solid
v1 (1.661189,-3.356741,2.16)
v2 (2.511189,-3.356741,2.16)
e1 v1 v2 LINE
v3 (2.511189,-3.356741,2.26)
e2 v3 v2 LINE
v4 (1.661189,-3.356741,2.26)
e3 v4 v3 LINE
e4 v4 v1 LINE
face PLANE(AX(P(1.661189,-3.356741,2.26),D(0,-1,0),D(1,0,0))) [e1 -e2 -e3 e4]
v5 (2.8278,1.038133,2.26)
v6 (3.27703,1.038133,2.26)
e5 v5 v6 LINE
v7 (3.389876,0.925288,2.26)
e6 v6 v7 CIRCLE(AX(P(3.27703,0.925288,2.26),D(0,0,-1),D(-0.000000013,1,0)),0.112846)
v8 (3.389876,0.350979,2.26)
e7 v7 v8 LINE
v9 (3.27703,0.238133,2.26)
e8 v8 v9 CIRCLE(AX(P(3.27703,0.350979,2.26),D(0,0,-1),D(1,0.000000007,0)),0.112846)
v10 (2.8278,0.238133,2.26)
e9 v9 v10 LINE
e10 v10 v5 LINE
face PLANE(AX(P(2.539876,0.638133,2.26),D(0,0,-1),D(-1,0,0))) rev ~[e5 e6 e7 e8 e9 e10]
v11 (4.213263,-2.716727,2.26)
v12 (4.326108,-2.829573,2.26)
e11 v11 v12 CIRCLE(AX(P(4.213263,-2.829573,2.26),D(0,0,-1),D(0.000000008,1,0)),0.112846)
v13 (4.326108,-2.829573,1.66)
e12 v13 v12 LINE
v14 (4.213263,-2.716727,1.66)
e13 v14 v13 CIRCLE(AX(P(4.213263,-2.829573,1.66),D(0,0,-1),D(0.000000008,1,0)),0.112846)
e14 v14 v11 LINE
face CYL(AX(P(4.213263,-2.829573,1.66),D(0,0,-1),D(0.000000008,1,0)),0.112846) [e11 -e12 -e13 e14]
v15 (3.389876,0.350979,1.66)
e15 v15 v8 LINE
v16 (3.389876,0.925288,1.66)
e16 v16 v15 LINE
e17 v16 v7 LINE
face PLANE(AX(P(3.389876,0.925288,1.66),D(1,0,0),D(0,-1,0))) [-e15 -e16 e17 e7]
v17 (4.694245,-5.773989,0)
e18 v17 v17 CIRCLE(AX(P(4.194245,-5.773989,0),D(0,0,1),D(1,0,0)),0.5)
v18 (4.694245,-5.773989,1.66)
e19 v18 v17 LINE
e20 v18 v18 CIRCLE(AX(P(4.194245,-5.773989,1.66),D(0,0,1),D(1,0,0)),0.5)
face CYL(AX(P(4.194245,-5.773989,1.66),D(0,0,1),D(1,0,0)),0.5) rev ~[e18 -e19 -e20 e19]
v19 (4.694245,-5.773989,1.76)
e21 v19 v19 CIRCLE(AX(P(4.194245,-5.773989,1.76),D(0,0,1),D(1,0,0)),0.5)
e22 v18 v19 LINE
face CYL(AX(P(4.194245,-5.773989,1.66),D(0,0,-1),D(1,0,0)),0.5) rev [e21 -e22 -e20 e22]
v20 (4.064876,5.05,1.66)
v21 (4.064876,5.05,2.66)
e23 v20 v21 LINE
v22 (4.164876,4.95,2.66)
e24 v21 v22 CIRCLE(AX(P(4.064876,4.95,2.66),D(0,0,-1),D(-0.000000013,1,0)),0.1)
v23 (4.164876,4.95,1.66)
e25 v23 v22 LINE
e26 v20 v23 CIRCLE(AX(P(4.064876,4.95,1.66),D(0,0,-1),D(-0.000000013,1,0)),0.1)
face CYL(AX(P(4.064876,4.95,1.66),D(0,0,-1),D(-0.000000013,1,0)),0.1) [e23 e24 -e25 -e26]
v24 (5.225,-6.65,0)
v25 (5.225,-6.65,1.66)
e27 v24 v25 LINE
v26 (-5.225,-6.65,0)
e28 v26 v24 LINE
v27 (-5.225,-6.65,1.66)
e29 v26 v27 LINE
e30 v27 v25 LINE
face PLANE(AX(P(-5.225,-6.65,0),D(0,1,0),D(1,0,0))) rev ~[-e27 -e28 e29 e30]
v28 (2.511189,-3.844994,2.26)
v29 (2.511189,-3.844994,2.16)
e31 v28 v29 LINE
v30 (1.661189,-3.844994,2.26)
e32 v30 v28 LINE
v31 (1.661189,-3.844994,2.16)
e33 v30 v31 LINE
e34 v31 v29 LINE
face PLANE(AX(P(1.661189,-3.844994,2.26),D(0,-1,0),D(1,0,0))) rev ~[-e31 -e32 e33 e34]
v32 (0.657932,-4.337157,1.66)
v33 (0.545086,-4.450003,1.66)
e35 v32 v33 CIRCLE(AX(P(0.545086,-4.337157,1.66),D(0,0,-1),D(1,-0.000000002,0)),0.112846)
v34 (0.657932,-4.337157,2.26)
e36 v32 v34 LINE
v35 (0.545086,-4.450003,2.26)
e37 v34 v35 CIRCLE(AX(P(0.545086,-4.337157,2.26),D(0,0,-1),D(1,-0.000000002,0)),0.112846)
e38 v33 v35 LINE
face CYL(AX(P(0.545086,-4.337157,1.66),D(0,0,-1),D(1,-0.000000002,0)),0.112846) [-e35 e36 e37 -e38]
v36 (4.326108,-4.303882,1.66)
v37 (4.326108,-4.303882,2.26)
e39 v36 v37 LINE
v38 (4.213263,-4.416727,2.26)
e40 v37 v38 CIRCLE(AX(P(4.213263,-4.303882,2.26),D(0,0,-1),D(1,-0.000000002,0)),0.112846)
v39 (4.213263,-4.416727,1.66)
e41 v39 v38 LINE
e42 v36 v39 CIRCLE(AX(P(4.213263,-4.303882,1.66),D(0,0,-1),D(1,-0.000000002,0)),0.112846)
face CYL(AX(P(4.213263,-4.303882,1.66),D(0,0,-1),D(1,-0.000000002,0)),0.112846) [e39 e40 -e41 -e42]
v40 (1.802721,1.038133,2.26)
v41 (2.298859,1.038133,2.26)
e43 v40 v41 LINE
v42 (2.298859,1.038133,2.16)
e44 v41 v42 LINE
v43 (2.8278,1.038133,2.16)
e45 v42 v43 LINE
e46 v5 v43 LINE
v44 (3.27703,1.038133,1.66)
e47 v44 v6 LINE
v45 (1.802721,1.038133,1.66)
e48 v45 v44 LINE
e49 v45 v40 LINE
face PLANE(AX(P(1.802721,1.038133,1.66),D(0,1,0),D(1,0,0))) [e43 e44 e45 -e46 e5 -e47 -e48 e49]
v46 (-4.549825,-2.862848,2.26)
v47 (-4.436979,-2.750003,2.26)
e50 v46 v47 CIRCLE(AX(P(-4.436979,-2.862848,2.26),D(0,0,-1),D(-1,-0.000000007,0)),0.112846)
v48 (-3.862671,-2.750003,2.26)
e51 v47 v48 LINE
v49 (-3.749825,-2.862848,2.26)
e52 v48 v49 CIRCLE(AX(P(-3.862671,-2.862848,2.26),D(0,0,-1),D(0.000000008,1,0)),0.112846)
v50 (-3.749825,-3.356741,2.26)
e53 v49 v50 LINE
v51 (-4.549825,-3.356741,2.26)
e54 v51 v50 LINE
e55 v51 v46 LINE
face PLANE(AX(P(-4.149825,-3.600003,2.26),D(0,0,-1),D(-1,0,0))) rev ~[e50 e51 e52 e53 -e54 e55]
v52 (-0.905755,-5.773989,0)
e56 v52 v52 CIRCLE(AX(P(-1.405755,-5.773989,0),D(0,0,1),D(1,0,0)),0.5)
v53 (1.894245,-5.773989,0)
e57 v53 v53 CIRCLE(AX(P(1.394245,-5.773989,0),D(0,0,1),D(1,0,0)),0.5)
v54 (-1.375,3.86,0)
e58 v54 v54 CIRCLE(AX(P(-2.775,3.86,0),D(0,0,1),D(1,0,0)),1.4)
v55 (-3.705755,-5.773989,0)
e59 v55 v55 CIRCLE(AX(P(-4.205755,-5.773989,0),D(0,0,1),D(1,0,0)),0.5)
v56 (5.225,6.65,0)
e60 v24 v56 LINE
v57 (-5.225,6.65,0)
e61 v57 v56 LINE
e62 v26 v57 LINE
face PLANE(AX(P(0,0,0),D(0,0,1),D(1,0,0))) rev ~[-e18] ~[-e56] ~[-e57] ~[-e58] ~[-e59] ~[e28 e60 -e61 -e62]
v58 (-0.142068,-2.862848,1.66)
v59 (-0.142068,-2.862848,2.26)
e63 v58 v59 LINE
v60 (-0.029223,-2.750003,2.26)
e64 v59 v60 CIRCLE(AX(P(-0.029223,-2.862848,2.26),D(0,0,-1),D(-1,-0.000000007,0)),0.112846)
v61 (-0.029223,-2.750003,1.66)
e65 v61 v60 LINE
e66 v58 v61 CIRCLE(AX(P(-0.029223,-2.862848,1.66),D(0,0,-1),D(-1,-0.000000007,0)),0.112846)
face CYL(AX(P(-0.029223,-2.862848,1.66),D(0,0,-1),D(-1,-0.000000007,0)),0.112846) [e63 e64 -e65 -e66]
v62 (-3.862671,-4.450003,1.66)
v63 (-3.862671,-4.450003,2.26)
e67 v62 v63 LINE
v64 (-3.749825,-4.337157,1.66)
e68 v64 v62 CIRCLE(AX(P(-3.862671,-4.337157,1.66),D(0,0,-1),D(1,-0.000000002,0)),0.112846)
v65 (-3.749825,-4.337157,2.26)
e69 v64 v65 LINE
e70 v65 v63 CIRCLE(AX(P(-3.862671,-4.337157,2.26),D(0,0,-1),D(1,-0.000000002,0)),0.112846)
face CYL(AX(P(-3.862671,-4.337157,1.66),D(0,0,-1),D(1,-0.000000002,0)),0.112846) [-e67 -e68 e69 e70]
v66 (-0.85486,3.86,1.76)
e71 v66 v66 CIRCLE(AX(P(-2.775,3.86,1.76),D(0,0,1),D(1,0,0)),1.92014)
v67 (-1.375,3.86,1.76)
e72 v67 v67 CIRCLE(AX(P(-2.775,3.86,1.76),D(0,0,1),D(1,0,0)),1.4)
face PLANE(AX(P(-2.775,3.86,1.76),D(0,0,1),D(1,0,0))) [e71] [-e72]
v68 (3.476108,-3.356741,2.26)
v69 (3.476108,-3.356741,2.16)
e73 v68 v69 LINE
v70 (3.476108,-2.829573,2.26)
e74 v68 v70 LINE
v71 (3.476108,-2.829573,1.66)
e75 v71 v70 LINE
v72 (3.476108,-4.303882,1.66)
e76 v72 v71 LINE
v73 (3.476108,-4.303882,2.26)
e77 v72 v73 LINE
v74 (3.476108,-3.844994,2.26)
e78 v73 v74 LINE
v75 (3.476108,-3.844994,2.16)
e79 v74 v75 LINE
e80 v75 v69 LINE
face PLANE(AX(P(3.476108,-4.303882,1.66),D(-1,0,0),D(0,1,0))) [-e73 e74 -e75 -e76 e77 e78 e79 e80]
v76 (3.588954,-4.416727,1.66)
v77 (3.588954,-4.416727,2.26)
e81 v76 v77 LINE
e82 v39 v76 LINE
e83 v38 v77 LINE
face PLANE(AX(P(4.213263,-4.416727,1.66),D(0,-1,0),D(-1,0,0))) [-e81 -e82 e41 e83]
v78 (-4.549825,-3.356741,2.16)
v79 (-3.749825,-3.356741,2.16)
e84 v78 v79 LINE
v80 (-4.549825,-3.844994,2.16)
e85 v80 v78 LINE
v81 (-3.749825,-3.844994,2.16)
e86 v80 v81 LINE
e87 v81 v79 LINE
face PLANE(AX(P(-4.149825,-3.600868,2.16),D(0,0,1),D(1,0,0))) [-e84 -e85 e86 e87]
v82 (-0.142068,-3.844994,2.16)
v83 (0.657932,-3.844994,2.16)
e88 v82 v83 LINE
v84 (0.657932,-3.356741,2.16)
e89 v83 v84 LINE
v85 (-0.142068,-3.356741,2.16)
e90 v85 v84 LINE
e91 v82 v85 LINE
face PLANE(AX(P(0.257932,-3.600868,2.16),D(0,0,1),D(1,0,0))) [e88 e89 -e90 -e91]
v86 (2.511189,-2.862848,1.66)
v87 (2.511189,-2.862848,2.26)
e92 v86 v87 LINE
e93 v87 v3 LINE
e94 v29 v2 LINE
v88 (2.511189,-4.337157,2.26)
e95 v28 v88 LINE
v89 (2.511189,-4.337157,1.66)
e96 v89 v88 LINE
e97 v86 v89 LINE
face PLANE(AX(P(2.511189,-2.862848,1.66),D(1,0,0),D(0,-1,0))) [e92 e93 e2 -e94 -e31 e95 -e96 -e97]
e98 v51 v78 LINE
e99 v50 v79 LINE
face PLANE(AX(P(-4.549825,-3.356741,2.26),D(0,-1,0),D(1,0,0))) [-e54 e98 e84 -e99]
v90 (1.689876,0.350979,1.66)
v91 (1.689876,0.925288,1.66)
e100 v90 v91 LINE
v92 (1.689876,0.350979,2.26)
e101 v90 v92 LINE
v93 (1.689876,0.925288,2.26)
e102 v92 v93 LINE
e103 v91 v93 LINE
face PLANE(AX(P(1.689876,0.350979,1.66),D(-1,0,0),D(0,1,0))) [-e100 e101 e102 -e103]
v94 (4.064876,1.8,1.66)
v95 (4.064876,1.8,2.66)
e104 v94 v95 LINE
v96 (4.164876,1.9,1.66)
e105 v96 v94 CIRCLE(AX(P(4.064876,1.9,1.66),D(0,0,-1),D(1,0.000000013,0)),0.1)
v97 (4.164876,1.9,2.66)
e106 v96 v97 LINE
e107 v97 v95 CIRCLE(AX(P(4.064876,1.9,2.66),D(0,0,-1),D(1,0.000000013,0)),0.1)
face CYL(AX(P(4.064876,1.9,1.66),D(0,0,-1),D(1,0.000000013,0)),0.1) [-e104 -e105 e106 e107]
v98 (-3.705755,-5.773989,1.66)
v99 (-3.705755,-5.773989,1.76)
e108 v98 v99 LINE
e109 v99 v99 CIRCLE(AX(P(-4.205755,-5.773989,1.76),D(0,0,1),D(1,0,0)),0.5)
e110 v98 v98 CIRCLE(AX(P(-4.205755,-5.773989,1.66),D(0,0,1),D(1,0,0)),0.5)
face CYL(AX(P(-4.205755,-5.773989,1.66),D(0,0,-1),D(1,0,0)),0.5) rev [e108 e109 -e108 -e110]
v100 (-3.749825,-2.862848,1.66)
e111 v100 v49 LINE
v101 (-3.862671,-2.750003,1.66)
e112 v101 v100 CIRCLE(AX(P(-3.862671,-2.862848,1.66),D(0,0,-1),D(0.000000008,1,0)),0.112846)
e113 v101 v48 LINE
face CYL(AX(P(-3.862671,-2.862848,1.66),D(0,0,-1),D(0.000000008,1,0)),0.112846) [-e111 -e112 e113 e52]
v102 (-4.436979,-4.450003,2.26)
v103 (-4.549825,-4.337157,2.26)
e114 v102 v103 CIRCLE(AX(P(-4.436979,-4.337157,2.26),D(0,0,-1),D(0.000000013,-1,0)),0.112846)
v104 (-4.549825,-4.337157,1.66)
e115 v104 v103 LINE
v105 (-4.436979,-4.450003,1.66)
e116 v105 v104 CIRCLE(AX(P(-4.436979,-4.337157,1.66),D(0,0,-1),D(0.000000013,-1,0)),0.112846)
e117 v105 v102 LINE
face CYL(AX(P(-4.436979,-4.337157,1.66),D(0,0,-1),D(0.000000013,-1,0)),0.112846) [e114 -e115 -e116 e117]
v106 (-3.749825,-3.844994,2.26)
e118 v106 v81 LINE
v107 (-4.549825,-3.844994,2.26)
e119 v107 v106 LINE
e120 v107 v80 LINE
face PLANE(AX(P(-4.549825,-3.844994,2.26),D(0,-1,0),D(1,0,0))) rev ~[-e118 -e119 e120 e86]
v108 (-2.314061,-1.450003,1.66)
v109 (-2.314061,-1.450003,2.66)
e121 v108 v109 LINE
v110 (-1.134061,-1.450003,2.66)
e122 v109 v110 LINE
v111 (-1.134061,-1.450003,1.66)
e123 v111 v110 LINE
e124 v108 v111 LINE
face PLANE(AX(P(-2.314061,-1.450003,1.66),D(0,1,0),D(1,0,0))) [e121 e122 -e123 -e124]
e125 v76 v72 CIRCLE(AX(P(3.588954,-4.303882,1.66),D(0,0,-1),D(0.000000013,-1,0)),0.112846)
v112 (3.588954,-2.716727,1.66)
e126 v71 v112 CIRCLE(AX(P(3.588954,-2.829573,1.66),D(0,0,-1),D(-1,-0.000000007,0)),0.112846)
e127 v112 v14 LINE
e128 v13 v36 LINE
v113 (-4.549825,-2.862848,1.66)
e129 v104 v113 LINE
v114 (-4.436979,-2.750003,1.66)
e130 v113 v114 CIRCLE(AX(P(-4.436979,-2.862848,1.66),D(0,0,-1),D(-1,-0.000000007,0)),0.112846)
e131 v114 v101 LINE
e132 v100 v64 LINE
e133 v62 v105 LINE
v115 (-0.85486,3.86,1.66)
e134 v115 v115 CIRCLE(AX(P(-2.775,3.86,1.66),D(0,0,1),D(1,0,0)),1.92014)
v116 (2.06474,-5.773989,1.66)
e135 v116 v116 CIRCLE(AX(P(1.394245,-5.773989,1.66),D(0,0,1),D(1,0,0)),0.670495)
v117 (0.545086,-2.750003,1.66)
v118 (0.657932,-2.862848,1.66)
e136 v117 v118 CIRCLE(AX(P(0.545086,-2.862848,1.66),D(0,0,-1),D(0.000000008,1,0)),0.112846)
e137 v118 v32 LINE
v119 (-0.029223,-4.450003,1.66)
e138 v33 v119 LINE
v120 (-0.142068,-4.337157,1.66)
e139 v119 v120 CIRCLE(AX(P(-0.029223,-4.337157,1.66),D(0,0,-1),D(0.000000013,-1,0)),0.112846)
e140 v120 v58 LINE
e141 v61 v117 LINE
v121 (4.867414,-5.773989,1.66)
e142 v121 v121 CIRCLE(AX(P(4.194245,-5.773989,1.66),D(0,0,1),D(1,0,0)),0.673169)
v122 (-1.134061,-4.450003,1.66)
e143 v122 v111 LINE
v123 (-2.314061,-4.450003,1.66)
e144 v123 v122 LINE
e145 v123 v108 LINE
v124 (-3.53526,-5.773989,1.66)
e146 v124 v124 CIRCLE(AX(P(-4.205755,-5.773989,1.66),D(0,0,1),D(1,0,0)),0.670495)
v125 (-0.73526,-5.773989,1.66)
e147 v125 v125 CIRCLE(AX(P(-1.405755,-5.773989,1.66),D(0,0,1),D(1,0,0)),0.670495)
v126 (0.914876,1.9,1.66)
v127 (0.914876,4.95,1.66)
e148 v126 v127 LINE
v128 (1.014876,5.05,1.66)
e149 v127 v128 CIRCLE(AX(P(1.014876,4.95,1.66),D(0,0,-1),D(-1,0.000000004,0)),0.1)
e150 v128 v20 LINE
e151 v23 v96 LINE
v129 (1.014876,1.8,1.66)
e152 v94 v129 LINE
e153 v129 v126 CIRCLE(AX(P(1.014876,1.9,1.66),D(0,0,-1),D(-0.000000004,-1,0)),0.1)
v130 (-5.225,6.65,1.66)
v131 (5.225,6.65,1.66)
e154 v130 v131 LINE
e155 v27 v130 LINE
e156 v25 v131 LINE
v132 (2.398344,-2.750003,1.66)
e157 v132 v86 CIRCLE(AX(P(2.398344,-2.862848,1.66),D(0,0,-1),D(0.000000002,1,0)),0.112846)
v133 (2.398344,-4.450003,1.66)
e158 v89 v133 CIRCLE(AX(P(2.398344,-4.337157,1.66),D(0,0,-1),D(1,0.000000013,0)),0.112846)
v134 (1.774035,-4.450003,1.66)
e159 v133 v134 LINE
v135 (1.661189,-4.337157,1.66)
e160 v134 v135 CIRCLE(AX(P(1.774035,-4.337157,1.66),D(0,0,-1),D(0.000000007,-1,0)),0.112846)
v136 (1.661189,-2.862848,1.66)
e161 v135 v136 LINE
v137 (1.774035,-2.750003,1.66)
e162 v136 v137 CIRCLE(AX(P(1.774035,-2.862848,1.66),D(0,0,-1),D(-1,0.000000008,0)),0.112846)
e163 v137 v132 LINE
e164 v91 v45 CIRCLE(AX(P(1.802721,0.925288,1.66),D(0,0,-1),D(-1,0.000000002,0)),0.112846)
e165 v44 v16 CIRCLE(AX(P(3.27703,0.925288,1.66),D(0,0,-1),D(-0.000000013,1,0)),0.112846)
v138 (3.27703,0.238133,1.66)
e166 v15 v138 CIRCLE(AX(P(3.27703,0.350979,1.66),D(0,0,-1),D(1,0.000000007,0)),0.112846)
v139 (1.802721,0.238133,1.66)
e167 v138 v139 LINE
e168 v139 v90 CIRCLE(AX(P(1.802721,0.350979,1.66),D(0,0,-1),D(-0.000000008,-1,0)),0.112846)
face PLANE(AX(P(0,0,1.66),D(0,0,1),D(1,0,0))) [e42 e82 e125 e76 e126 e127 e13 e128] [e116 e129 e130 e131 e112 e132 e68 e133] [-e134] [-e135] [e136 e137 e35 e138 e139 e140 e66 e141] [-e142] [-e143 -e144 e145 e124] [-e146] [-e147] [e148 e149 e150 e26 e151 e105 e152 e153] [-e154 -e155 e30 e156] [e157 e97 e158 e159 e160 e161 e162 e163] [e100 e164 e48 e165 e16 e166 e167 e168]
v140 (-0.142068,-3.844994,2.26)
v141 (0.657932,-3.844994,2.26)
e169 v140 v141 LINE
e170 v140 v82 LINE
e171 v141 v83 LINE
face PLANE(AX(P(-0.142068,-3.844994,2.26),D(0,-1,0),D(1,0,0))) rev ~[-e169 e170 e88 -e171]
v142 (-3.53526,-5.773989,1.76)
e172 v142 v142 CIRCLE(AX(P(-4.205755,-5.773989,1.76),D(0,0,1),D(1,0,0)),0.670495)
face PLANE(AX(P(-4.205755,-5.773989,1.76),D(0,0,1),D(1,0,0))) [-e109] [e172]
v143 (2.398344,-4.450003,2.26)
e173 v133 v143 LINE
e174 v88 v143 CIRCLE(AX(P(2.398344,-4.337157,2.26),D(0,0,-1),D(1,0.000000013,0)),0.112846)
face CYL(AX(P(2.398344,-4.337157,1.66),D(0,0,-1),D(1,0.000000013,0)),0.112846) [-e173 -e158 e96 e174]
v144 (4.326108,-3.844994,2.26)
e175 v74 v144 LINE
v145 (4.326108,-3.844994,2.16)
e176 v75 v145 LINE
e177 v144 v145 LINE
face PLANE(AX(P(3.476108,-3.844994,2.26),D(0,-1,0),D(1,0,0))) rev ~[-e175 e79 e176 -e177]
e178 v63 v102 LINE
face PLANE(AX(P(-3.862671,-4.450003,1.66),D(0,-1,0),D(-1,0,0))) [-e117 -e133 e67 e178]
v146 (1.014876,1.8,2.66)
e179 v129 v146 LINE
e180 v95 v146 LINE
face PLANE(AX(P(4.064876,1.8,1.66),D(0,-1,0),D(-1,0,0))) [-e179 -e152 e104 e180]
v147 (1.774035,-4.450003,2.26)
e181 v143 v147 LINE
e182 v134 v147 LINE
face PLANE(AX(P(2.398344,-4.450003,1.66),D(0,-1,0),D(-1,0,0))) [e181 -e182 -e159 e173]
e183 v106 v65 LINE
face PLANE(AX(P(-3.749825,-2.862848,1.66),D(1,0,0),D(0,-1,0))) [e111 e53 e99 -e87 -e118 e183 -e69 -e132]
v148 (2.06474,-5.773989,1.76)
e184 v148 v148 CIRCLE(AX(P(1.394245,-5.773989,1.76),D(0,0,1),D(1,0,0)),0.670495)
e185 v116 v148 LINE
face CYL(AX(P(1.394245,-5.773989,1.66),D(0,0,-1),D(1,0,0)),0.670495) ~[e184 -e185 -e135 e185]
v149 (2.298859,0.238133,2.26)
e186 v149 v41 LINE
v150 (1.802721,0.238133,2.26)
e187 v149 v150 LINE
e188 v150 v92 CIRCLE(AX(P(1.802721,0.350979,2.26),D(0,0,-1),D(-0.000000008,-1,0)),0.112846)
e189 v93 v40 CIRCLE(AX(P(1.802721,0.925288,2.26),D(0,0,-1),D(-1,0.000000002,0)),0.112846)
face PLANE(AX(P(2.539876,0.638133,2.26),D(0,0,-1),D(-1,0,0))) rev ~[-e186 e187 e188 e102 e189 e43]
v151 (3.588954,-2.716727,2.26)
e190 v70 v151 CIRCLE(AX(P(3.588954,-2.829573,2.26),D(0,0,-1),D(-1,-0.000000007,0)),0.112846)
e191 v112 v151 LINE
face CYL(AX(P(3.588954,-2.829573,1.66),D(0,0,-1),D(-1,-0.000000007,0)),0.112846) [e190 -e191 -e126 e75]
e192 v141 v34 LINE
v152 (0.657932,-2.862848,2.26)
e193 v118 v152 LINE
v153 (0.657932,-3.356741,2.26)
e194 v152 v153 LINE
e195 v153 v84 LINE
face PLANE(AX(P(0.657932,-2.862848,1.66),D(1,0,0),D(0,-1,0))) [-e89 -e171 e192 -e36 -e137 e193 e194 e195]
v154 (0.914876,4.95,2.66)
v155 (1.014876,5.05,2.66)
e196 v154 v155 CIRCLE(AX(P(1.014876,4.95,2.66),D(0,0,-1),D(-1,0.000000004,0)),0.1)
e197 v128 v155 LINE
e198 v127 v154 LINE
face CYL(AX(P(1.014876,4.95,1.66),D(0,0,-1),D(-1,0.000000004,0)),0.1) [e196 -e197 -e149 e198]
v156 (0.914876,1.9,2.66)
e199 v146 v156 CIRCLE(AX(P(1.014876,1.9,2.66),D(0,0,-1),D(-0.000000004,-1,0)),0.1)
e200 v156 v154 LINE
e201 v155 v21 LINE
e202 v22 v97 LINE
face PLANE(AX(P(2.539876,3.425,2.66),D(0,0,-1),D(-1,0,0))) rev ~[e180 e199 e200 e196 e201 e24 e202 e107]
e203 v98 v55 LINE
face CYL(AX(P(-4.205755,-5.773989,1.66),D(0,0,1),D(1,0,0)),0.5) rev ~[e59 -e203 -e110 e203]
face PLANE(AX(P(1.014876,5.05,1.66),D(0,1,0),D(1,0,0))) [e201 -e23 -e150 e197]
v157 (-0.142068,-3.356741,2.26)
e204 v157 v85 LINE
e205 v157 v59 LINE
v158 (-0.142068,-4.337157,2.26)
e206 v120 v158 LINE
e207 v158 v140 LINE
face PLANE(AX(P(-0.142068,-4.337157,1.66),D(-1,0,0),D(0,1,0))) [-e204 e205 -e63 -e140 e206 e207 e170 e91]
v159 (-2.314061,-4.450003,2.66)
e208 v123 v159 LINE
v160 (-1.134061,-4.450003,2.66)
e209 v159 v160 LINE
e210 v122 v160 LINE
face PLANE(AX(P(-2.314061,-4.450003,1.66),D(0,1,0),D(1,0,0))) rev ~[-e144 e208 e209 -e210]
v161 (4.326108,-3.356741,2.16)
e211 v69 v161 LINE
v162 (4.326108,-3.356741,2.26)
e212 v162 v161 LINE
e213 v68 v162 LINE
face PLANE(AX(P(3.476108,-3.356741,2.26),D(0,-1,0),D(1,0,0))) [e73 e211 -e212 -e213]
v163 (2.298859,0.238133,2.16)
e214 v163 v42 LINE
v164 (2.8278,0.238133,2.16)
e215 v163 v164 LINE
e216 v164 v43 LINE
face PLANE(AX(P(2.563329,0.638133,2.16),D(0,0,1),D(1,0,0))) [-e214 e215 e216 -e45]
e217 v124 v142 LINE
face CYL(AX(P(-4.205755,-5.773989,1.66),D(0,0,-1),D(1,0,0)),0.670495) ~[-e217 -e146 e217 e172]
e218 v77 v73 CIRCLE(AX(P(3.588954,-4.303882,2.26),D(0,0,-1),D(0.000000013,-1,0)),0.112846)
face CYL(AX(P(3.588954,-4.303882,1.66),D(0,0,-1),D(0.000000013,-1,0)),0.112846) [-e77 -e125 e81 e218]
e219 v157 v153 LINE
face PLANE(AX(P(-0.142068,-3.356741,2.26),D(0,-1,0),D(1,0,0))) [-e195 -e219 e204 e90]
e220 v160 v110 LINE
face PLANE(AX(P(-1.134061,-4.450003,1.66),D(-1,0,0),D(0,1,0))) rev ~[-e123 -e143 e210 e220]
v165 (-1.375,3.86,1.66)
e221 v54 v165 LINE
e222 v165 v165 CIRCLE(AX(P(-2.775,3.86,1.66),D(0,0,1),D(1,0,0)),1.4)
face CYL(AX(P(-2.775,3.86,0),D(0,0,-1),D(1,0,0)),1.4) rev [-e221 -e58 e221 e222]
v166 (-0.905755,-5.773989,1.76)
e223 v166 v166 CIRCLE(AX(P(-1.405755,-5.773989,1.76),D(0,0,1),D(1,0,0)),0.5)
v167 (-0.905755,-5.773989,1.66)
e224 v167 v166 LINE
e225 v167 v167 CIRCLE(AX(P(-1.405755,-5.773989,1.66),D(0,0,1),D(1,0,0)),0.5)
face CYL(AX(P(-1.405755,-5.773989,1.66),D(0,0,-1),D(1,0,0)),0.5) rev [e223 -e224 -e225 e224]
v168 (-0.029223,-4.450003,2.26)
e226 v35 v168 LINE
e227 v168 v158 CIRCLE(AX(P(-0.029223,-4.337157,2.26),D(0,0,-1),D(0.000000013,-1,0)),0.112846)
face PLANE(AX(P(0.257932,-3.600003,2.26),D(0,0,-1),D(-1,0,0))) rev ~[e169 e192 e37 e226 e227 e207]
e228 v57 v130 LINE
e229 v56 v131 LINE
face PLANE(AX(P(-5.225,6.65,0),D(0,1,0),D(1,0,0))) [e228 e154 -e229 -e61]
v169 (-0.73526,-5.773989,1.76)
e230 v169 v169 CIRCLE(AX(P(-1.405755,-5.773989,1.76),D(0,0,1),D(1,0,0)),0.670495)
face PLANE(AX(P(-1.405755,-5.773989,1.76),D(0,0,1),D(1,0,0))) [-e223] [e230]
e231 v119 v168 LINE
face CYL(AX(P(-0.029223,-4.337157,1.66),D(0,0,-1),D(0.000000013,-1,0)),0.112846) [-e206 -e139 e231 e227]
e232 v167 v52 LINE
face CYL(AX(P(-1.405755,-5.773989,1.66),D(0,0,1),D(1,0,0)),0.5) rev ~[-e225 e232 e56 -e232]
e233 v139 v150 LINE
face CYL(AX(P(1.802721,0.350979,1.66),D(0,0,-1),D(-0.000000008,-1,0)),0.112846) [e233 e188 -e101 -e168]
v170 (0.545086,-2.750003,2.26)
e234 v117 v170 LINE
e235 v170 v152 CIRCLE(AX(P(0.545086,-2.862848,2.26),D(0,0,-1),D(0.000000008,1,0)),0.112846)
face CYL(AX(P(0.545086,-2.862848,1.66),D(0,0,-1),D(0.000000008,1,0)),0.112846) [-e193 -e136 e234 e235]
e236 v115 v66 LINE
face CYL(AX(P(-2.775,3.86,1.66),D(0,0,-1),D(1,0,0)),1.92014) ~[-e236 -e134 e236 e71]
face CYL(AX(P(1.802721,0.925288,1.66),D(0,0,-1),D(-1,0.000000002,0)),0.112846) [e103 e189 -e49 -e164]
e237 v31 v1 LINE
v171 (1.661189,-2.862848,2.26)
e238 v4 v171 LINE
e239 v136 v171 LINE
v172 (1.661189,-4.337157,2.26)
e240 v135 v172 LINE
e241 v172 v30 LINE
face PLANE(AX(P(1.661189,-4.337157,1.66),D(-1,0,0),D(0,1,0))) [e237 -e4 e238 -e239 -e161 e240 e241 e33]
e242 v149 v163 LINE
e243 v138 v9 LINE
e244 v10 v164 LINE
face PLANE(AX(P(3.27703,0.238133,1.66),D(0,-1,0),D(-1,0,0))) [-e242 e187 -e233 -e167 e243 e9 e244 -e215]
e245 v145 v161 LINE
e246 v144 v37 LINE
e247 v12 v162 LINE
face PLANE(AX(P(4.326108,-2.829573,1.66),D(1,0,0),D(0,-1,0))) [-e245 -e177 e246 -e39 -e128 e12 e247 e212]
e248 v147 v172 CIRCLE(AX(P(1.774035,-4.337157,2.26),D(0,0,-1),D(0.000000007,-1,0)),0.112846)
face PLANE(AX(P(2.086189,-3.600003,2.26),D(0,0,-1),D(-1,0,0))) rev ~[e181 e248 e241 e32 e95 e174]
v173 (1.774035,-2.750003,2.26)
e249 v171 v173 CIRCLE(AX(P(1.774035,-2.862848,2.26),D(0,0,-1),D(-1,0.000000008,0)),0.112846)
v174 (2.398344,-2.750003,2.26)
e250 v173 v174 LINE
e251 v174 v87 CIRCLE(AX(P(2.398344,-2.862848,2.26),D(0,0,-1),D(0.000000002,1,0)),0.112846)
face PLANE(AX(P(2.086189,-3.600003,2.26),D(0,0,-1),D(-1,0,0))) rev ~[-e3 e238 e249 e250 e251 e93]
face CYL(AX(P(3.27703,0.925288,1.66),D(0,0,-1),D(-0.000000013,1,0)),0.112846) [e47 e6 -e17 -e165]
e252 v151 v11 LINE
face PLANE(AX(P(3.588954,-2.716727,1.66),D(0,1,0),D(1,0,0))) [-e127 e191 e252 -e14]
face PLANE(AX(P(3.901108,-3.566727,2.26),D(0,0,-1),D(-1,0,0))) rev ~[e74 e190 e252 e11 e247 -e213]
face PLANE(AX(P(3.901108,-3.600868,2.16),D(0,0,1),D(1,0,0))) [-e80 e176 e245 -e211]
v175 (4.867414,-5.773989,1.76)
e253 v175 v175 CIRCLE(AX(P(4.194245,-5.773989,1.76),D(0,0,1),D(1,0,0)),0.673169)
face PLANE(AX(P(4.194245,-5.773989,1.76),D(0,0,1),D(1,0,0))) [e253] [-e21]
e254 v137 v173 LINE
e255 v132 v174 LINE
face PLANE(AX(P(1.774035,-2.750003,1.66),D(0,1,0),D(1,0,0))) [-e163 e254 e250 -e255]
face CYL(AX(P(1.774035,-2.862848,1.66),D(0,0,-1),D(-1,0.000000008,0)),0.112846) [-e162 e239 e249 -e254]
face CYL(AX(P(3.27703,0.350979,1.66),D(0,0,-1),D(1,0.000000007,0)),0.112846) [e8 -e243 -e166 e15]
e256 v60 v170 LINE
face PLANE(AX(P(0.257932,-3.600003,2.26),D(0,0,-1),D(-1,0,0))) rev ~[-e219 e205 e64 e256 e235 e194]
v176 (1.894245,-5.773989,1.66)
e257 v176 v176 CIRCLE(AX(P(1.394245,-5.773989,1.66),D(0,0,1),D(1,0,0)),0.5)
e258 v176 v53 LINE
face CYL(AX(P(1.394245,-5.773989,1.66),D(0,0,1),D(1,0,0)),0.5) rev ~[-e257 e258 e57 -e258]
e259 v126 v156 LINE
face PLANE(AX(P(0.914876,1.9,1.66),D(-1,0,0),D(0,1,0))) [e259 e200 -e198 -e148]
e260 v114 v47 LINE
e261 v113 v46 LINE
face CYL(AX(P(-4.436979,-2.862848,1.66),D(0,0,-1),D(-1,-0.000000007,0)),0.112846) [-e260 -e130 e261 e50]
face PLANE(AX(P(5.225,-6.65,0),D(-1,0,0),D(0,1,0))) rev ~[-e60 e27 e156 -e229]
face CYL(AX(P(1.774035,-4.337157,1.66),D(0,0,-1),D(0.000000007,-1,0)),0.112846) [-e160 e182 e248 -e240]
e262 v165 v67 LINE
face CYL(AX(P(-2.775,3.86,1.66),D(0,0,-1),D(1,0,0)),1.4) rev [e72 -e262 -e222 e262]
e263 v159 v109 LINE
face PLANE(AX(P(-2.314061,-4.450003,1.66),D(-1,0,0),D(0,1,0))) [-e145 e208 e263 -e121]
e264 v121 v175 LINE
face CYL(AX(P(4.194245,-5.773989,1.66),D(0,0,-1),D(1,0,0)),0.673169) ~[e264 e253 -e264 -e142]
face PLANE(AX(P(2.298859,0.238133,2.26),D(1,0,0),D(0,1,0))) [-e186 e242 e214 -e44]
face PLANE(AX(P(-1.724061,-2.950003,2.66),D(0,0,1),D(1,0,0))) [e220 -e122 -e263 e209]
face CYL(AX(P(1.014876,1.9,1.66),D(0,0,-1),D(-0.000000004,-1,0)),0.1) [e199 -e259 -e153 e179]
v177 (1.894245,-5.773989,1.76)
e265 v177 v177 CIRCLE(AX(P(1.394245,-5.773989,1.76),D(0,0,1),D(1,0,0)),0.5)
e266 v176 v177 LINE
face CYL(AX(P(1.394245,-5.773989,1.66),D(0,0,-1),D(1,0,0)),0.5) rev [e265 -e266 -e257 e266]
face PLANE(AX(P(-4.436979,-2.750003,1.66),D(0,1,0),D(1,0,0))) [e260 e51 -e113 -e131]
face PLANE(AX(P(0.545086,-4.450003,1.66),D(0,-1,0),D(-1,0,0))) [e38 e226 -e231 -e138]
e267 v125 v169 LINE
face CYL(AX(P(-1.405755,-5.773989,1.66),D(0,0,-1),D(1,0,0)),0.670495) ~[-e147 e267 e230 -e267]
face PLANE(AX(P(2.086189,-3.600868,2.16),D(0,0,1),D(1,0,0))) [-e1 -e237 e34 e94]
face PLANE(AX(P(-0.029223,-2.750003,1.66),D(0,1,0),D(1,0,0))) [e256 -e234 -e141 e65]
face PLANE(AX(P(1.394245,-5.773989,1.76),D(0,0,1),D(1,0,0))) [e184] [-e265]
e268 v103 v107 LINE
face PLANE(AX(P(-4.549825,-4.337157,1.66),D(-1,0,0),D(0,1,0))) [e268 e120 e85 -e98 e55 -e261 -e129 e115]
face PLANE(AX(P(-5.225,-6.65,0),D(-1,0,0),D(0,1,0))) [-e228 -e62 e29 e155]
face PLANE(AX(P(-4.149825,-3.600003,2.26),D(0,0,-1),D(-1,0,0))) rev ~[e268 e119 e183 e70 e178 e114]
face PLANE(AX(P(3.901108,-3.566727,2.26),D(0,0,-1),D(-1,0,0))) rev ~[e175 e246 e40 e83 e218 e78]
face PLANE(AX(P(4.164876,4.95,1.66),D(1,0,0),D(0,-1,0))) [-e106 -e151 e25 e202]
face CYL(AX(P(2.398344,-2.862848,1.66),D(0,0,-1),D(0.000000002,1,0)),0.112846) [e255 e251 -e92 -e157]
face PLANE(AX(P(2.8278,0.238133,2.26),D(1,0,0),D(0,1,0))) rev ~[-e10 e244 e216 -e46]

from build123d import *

# Parameters (mm, degrees)
CROQUIS1_W              = 10.45
CROQUIS1_H              = 13.3
CROQUIS1_R              = 1.4
SALIENTE_EXTRUIR1_DEPTH = 1.66
SALIENTE_EXTRUIR2_DEPTH = 1
SALIENTE_EXTRUIR3_DEPTH = 0.6
CROQUIS4_R              = 0.5
CORTAR_EXTRUIR1_DEPTH   = 2
CROQUIS5_W              = 1.18
CROQUIS5_H              = 3
SALIENTE_EXTRUIR4_DEPTH = 1
CROQUIS6_R              = 0.670494612
CROQUIS6_R_2            = 0.5
CROQUIS6_R_3            = 0.673168706
CROQUIS6_R_4            = 1.920139837
CROQUIS6_R_5            = 1.4
SALIENTE_EXTRUIR5_DEPTH = 0.1
CROQUIS7_W              = 0.8
CROQUIS7_H              = 0.488253232
CROQUIS7_W_2            = 0.85
CROQUIS7_W_3            = 0.528941002
CROQUIS7_H_2            = 0.8
CORTAR_EXTRUIR2_DEPTH   = 0.1


with BuildPart() as part:
    # Croquis1 → Saliente-Extruir1 (new body)
    with BuildSketch(Plane.XY):
        Rectangle(CROQUIS1_W, CROQUIS1_H)
        with Locations((-2.775, 3.86)):
            Circle(CROQUIS1_R, mode=Mode.SUBTRACT)
    extrude(amount=SALIENTE_EXTRUIR1_DEPTH)

    # Croquis2 → Saliente-Extruir2 (add)
    with BuildSketch(Plane.XY.offset(1.66)):
        with BuildLine():
            Line((1.014875741, 5.05), (4.064875741, 5.05))
            ThreePointArc((4.064875741, 5.05), (4.13558642, 5.020710678), (4.164875741, 4.95))
            Line((4.164875741, 4.95), (4.164875741, 1.9))
            ThreePointArc((4.164875741, 1.9), (4.13558642, 1.829289322), (4.064875741, 1.8))
            Line((4.064875741, 1.8), (1.014875741, 1.8))
            ThreePointArc((1.014875741, 1.8), (0.944165063, 1.829289322), (0.914875741, 1.9))
            Line((0.914875741, 1.9), (0.914875741, 4.95))
            ThreePointArc((0.914875741, 4.95), (0.944165063, 5.020710678), (1.014875741, 5.05))
        make_face()
    extrude(amount=SALIENTE_EXTRUIR2_DEPTH)

    # Croquis3 → Saliente-Extruir3 (add)
    with BuildSketch(Plane.XY.offset(1.66)):
        with BuildLine():
            Line((0.545086024, -4.450002724), (-0.029222615, -4.450002724))
            ThreePointArc((-0.029222615, -4.450002724), (-0.109016561, -4.41695099), (-0.142068295, -4.337157044))
            Line((-0.142068295, -4.337157044), (-0.142068295, -2.862848405))
            ThreePointArc((-0.142068295, -2.862848405), (-0.109016561, -2.783054459), (-0.029222615, -2.750002724))
            Line((-0.029222615, -2.750002724), (0.545086024, -2.750002724))
            ThreePointArc((0.545086024, -2.750002724), (0.62487997, -2.783054459), (0.657931705, -2.862848405))
            Line((0.657931705, -2.862848405), (0.657931705, -4.337157044))
            ThreePointArc((0.657931705, -4.337157044), (0.62487997, -4.41695099), (0.545086024, -4.450002724))
        make_face()
        with BuildLine():
            Line((-4.549824975, -4.337157044), (-4.549824975, -2.862848405))
            ThreePointArc((-4.549824975, -2.862848405), (-4.516773241, -2.783054459), (-4.436979295, -2.750002724))
            Line((-4.436979295, -2.750002724), (-3.862670656, -2.750002724))
            ThreePointArc((-3.862670656, -2.750002724), (-3.78287671, -2.783054459), (-3.749824975, -2.862848405))
            Line((-3.749824975, -2.862848405), (-3.749824975, -4.337157044))
            ThreePointArc((-3.749824975, -4.337157044), (-3.78287671, -4.41695099), (-3.862670656, -4.450002724))
            Line((-3.862670656, -4.450002724), (-4.436979295, -4.450002724))
            ThreePointArc((-4.436979295, -4.450002724), (-4.516773241, -4.41695099), (-4.549824975, -4.337157044))
        make_face()
        with BuildLine():
            Line((3.58895412, -2.716727386), (4.213262759, -2.716727386))
            ThreePointArc((4.213262759, -2.716727386), (4.293056705, -2.749779121), (4.32610844, -2.829573067))
            Line((4.32610844, -2.829573067), (4.32610844, -4.303881706))
            ThreePointArc((4.32610844, -4.303881706), (4.293056705, -4.383675652), (4.213262759, -4.416727386))
            Line((4.213262759, -4.416727386), (3.58895412, -4.416727386))
            ThreePointArc((3.58895412, -4.416727386), (3.509160174, -4.383675652), (3.47610844, -4.303881706))
            Line((3.47610844, -4.303881706), (3.47610844, -2.829573067))
            ThreePointArc((3.47610844, -2.829573067), (3.509160174, -2.749779121), (3.58895412, -2.716727386))
        make_face()
        with BuildLine():
            Line((1.661189231, -4.337157044), (1.661189231, -2.862848405))
            ThreePointArc((1.661189231, -2.862848405), (1.694240966, -2.783054459), (1.774034912, -2.750002724))
            Line((1.774034912, -2.750002724), (2.398343551, -2.750002724))
            ThreePointArc((2.398343551, -2.750002724), (2.478137497, -2.783054459), (2.511189231, -2.862848405))
            Line((2.511189231, -2.862848405), (2.511189231, -4.337157044))
            ThreePointArc((2.511189231, -4.337157044), (2.478137497, -4.41695099), (2.398343551, -4.450002724))
            Line((2.398343551, -4.450002724), (1.774034912, -4.450002724))
            ThreePointArc((1.774034912, -4.450002724), (1.694240966, -4.41695099), (1.661189231, -4.337157044))
        make_face()
        with BuildLine():
            Line((1.689875741, 0.350979107), (1.689875741, 0.925287746))
            ThreePointArc((1.689875741, 0.925287746), (1.722927476, 1.005081692), (1.802721422, 1.038133426))
            Line((1.802721422, 1.038133426), (3.277030061, 1.038133426))
            ThreePointArc((3.277030061, 1.038133426), (3.356824007, 1.005081692), (3.389875741, 0.925287746))
            Line((3.389875741, 0.925287746), (3.389875741, 0.350979107))
            ThreePointArc((3.389875741, 0.350979107), (3.356824007, 0.271185161), (3.277030061, 0.238133426))
            Line((3.277030061, 0.238133426), (1.802721422, 0.238133426))
            ThreePointArc((1.802721422, 0.238133426), (1.722927476, 0.271185161), (1.689875741, 0.350979107))
        make_face()
    extrude(amount=SALIENTE_EXTRUIR3_DEPTH)

    # Croquis4 → Cortar-Extruir1 (cut)
    with BuildSketch(Plane.XY.offset(1.66)):
        with Locations((4.194245203, -5.773988592)):
            Circle(CROQUIS4_R)
        with Locations((1.394245203, -5.773988592)):
            Circle(CROQUIS4_R)
        with Locations((-1.405754797, -5.773988592)):
            Circle(CROQUIS4_R)
        with Locations((-4.205754797, -5.773988592)):
            Circle(CROQUIS4_R)
    extrude(amount=-CORTAR_EXTRUIR1_DEPTH, mode=Mode.SUBTRACT)

    # Croquis5 → Saliente-Extruir4 (add)
    with BuildSketch(Plane.XY.offset(1.66)):
        with Locations((-1.72406111, -2.950002724)):
            Rectangle(CROQUIS5_W, CROQUIS5_H)
    extrude(amount=SALIENTE_EXTRUIR4_DEPTH)

    # Croquis6 → Saliente-Extruir5 (add)
    with BuildSketch(Plane.XY.offset(1.66)):
        with Locations((-4.205754797, -5.773988592)):
            Circle(CROQUIS6_R)
        with Locations((-4.205754797, -5.773988592)):
            Circle(CROQUIS6_R_2, mode=Mode.SUBTRACT)
        with Locations((-1.405754797, -5.773988592)):
            Circle(CROQUIS6_R)
        with Locations((-1.405754797, -5.773988592)):
            Circle(CROQUIS6_R_2, mode=Mode.SUBTRACT)
        with Locations((1.394245203, -5.773988592)):
            Circle(CROQUIS6_R)
        with Locations((1.394245203, -5.773988592)):
            Circle(CROQUIS6_R_2, mode=Mode.SUBTRACT)
        with Locations((4.194245203, -5.773988592)):
            Circle(CROQUIS6_R_3)
        with Locations((4.194245203, -5.773988592)):
            Circle(CROQUIS6_R_2, mode=Mode.SUBTRACT)
        with Locations((-2.775, 3.86)):
            Circle(CROQUIS6_R_4)
        with Locations((-2.775, 3.86)):
            Circle(CROQUIS6_R_5, mode=Mode.SUBTRACT)
    extrude(amount=SALIENTE_EXTRUIR5_DEPTH)

    # Croquis7 → Cortar-Extruir2 (cut)
    with BuildSketch(Plane.XY.offset(2.26)):
        with Locations((-4.149824975, -3.600867586)):
            Rectangle(CROQUIS7_W, CROQUIS7_H)
        with Locations((0.257931705, -3.600867586)):
            Rectangle(CROQUIS7_W, CROQUIS7_H)
        with Locations((2.086189231, -3.600867586)):
            Rectangle(CROQUIS7_W_2, CROQUIS7_H)
        with Locations((3.90110844, -3.600867586)):
            Rectangle(CROQUIS7_W_2, CROQUIS7_H)
        with Locations((2.563329468, 0.638133426)):
            Rectangle(CROQUIS7_W_3, CROQUIS7_H_2)
    extrude(amount=-CORTAR_EXTRUIR2_DEPTH, mode=Mode.SUBTRACT)


solid = part.part
